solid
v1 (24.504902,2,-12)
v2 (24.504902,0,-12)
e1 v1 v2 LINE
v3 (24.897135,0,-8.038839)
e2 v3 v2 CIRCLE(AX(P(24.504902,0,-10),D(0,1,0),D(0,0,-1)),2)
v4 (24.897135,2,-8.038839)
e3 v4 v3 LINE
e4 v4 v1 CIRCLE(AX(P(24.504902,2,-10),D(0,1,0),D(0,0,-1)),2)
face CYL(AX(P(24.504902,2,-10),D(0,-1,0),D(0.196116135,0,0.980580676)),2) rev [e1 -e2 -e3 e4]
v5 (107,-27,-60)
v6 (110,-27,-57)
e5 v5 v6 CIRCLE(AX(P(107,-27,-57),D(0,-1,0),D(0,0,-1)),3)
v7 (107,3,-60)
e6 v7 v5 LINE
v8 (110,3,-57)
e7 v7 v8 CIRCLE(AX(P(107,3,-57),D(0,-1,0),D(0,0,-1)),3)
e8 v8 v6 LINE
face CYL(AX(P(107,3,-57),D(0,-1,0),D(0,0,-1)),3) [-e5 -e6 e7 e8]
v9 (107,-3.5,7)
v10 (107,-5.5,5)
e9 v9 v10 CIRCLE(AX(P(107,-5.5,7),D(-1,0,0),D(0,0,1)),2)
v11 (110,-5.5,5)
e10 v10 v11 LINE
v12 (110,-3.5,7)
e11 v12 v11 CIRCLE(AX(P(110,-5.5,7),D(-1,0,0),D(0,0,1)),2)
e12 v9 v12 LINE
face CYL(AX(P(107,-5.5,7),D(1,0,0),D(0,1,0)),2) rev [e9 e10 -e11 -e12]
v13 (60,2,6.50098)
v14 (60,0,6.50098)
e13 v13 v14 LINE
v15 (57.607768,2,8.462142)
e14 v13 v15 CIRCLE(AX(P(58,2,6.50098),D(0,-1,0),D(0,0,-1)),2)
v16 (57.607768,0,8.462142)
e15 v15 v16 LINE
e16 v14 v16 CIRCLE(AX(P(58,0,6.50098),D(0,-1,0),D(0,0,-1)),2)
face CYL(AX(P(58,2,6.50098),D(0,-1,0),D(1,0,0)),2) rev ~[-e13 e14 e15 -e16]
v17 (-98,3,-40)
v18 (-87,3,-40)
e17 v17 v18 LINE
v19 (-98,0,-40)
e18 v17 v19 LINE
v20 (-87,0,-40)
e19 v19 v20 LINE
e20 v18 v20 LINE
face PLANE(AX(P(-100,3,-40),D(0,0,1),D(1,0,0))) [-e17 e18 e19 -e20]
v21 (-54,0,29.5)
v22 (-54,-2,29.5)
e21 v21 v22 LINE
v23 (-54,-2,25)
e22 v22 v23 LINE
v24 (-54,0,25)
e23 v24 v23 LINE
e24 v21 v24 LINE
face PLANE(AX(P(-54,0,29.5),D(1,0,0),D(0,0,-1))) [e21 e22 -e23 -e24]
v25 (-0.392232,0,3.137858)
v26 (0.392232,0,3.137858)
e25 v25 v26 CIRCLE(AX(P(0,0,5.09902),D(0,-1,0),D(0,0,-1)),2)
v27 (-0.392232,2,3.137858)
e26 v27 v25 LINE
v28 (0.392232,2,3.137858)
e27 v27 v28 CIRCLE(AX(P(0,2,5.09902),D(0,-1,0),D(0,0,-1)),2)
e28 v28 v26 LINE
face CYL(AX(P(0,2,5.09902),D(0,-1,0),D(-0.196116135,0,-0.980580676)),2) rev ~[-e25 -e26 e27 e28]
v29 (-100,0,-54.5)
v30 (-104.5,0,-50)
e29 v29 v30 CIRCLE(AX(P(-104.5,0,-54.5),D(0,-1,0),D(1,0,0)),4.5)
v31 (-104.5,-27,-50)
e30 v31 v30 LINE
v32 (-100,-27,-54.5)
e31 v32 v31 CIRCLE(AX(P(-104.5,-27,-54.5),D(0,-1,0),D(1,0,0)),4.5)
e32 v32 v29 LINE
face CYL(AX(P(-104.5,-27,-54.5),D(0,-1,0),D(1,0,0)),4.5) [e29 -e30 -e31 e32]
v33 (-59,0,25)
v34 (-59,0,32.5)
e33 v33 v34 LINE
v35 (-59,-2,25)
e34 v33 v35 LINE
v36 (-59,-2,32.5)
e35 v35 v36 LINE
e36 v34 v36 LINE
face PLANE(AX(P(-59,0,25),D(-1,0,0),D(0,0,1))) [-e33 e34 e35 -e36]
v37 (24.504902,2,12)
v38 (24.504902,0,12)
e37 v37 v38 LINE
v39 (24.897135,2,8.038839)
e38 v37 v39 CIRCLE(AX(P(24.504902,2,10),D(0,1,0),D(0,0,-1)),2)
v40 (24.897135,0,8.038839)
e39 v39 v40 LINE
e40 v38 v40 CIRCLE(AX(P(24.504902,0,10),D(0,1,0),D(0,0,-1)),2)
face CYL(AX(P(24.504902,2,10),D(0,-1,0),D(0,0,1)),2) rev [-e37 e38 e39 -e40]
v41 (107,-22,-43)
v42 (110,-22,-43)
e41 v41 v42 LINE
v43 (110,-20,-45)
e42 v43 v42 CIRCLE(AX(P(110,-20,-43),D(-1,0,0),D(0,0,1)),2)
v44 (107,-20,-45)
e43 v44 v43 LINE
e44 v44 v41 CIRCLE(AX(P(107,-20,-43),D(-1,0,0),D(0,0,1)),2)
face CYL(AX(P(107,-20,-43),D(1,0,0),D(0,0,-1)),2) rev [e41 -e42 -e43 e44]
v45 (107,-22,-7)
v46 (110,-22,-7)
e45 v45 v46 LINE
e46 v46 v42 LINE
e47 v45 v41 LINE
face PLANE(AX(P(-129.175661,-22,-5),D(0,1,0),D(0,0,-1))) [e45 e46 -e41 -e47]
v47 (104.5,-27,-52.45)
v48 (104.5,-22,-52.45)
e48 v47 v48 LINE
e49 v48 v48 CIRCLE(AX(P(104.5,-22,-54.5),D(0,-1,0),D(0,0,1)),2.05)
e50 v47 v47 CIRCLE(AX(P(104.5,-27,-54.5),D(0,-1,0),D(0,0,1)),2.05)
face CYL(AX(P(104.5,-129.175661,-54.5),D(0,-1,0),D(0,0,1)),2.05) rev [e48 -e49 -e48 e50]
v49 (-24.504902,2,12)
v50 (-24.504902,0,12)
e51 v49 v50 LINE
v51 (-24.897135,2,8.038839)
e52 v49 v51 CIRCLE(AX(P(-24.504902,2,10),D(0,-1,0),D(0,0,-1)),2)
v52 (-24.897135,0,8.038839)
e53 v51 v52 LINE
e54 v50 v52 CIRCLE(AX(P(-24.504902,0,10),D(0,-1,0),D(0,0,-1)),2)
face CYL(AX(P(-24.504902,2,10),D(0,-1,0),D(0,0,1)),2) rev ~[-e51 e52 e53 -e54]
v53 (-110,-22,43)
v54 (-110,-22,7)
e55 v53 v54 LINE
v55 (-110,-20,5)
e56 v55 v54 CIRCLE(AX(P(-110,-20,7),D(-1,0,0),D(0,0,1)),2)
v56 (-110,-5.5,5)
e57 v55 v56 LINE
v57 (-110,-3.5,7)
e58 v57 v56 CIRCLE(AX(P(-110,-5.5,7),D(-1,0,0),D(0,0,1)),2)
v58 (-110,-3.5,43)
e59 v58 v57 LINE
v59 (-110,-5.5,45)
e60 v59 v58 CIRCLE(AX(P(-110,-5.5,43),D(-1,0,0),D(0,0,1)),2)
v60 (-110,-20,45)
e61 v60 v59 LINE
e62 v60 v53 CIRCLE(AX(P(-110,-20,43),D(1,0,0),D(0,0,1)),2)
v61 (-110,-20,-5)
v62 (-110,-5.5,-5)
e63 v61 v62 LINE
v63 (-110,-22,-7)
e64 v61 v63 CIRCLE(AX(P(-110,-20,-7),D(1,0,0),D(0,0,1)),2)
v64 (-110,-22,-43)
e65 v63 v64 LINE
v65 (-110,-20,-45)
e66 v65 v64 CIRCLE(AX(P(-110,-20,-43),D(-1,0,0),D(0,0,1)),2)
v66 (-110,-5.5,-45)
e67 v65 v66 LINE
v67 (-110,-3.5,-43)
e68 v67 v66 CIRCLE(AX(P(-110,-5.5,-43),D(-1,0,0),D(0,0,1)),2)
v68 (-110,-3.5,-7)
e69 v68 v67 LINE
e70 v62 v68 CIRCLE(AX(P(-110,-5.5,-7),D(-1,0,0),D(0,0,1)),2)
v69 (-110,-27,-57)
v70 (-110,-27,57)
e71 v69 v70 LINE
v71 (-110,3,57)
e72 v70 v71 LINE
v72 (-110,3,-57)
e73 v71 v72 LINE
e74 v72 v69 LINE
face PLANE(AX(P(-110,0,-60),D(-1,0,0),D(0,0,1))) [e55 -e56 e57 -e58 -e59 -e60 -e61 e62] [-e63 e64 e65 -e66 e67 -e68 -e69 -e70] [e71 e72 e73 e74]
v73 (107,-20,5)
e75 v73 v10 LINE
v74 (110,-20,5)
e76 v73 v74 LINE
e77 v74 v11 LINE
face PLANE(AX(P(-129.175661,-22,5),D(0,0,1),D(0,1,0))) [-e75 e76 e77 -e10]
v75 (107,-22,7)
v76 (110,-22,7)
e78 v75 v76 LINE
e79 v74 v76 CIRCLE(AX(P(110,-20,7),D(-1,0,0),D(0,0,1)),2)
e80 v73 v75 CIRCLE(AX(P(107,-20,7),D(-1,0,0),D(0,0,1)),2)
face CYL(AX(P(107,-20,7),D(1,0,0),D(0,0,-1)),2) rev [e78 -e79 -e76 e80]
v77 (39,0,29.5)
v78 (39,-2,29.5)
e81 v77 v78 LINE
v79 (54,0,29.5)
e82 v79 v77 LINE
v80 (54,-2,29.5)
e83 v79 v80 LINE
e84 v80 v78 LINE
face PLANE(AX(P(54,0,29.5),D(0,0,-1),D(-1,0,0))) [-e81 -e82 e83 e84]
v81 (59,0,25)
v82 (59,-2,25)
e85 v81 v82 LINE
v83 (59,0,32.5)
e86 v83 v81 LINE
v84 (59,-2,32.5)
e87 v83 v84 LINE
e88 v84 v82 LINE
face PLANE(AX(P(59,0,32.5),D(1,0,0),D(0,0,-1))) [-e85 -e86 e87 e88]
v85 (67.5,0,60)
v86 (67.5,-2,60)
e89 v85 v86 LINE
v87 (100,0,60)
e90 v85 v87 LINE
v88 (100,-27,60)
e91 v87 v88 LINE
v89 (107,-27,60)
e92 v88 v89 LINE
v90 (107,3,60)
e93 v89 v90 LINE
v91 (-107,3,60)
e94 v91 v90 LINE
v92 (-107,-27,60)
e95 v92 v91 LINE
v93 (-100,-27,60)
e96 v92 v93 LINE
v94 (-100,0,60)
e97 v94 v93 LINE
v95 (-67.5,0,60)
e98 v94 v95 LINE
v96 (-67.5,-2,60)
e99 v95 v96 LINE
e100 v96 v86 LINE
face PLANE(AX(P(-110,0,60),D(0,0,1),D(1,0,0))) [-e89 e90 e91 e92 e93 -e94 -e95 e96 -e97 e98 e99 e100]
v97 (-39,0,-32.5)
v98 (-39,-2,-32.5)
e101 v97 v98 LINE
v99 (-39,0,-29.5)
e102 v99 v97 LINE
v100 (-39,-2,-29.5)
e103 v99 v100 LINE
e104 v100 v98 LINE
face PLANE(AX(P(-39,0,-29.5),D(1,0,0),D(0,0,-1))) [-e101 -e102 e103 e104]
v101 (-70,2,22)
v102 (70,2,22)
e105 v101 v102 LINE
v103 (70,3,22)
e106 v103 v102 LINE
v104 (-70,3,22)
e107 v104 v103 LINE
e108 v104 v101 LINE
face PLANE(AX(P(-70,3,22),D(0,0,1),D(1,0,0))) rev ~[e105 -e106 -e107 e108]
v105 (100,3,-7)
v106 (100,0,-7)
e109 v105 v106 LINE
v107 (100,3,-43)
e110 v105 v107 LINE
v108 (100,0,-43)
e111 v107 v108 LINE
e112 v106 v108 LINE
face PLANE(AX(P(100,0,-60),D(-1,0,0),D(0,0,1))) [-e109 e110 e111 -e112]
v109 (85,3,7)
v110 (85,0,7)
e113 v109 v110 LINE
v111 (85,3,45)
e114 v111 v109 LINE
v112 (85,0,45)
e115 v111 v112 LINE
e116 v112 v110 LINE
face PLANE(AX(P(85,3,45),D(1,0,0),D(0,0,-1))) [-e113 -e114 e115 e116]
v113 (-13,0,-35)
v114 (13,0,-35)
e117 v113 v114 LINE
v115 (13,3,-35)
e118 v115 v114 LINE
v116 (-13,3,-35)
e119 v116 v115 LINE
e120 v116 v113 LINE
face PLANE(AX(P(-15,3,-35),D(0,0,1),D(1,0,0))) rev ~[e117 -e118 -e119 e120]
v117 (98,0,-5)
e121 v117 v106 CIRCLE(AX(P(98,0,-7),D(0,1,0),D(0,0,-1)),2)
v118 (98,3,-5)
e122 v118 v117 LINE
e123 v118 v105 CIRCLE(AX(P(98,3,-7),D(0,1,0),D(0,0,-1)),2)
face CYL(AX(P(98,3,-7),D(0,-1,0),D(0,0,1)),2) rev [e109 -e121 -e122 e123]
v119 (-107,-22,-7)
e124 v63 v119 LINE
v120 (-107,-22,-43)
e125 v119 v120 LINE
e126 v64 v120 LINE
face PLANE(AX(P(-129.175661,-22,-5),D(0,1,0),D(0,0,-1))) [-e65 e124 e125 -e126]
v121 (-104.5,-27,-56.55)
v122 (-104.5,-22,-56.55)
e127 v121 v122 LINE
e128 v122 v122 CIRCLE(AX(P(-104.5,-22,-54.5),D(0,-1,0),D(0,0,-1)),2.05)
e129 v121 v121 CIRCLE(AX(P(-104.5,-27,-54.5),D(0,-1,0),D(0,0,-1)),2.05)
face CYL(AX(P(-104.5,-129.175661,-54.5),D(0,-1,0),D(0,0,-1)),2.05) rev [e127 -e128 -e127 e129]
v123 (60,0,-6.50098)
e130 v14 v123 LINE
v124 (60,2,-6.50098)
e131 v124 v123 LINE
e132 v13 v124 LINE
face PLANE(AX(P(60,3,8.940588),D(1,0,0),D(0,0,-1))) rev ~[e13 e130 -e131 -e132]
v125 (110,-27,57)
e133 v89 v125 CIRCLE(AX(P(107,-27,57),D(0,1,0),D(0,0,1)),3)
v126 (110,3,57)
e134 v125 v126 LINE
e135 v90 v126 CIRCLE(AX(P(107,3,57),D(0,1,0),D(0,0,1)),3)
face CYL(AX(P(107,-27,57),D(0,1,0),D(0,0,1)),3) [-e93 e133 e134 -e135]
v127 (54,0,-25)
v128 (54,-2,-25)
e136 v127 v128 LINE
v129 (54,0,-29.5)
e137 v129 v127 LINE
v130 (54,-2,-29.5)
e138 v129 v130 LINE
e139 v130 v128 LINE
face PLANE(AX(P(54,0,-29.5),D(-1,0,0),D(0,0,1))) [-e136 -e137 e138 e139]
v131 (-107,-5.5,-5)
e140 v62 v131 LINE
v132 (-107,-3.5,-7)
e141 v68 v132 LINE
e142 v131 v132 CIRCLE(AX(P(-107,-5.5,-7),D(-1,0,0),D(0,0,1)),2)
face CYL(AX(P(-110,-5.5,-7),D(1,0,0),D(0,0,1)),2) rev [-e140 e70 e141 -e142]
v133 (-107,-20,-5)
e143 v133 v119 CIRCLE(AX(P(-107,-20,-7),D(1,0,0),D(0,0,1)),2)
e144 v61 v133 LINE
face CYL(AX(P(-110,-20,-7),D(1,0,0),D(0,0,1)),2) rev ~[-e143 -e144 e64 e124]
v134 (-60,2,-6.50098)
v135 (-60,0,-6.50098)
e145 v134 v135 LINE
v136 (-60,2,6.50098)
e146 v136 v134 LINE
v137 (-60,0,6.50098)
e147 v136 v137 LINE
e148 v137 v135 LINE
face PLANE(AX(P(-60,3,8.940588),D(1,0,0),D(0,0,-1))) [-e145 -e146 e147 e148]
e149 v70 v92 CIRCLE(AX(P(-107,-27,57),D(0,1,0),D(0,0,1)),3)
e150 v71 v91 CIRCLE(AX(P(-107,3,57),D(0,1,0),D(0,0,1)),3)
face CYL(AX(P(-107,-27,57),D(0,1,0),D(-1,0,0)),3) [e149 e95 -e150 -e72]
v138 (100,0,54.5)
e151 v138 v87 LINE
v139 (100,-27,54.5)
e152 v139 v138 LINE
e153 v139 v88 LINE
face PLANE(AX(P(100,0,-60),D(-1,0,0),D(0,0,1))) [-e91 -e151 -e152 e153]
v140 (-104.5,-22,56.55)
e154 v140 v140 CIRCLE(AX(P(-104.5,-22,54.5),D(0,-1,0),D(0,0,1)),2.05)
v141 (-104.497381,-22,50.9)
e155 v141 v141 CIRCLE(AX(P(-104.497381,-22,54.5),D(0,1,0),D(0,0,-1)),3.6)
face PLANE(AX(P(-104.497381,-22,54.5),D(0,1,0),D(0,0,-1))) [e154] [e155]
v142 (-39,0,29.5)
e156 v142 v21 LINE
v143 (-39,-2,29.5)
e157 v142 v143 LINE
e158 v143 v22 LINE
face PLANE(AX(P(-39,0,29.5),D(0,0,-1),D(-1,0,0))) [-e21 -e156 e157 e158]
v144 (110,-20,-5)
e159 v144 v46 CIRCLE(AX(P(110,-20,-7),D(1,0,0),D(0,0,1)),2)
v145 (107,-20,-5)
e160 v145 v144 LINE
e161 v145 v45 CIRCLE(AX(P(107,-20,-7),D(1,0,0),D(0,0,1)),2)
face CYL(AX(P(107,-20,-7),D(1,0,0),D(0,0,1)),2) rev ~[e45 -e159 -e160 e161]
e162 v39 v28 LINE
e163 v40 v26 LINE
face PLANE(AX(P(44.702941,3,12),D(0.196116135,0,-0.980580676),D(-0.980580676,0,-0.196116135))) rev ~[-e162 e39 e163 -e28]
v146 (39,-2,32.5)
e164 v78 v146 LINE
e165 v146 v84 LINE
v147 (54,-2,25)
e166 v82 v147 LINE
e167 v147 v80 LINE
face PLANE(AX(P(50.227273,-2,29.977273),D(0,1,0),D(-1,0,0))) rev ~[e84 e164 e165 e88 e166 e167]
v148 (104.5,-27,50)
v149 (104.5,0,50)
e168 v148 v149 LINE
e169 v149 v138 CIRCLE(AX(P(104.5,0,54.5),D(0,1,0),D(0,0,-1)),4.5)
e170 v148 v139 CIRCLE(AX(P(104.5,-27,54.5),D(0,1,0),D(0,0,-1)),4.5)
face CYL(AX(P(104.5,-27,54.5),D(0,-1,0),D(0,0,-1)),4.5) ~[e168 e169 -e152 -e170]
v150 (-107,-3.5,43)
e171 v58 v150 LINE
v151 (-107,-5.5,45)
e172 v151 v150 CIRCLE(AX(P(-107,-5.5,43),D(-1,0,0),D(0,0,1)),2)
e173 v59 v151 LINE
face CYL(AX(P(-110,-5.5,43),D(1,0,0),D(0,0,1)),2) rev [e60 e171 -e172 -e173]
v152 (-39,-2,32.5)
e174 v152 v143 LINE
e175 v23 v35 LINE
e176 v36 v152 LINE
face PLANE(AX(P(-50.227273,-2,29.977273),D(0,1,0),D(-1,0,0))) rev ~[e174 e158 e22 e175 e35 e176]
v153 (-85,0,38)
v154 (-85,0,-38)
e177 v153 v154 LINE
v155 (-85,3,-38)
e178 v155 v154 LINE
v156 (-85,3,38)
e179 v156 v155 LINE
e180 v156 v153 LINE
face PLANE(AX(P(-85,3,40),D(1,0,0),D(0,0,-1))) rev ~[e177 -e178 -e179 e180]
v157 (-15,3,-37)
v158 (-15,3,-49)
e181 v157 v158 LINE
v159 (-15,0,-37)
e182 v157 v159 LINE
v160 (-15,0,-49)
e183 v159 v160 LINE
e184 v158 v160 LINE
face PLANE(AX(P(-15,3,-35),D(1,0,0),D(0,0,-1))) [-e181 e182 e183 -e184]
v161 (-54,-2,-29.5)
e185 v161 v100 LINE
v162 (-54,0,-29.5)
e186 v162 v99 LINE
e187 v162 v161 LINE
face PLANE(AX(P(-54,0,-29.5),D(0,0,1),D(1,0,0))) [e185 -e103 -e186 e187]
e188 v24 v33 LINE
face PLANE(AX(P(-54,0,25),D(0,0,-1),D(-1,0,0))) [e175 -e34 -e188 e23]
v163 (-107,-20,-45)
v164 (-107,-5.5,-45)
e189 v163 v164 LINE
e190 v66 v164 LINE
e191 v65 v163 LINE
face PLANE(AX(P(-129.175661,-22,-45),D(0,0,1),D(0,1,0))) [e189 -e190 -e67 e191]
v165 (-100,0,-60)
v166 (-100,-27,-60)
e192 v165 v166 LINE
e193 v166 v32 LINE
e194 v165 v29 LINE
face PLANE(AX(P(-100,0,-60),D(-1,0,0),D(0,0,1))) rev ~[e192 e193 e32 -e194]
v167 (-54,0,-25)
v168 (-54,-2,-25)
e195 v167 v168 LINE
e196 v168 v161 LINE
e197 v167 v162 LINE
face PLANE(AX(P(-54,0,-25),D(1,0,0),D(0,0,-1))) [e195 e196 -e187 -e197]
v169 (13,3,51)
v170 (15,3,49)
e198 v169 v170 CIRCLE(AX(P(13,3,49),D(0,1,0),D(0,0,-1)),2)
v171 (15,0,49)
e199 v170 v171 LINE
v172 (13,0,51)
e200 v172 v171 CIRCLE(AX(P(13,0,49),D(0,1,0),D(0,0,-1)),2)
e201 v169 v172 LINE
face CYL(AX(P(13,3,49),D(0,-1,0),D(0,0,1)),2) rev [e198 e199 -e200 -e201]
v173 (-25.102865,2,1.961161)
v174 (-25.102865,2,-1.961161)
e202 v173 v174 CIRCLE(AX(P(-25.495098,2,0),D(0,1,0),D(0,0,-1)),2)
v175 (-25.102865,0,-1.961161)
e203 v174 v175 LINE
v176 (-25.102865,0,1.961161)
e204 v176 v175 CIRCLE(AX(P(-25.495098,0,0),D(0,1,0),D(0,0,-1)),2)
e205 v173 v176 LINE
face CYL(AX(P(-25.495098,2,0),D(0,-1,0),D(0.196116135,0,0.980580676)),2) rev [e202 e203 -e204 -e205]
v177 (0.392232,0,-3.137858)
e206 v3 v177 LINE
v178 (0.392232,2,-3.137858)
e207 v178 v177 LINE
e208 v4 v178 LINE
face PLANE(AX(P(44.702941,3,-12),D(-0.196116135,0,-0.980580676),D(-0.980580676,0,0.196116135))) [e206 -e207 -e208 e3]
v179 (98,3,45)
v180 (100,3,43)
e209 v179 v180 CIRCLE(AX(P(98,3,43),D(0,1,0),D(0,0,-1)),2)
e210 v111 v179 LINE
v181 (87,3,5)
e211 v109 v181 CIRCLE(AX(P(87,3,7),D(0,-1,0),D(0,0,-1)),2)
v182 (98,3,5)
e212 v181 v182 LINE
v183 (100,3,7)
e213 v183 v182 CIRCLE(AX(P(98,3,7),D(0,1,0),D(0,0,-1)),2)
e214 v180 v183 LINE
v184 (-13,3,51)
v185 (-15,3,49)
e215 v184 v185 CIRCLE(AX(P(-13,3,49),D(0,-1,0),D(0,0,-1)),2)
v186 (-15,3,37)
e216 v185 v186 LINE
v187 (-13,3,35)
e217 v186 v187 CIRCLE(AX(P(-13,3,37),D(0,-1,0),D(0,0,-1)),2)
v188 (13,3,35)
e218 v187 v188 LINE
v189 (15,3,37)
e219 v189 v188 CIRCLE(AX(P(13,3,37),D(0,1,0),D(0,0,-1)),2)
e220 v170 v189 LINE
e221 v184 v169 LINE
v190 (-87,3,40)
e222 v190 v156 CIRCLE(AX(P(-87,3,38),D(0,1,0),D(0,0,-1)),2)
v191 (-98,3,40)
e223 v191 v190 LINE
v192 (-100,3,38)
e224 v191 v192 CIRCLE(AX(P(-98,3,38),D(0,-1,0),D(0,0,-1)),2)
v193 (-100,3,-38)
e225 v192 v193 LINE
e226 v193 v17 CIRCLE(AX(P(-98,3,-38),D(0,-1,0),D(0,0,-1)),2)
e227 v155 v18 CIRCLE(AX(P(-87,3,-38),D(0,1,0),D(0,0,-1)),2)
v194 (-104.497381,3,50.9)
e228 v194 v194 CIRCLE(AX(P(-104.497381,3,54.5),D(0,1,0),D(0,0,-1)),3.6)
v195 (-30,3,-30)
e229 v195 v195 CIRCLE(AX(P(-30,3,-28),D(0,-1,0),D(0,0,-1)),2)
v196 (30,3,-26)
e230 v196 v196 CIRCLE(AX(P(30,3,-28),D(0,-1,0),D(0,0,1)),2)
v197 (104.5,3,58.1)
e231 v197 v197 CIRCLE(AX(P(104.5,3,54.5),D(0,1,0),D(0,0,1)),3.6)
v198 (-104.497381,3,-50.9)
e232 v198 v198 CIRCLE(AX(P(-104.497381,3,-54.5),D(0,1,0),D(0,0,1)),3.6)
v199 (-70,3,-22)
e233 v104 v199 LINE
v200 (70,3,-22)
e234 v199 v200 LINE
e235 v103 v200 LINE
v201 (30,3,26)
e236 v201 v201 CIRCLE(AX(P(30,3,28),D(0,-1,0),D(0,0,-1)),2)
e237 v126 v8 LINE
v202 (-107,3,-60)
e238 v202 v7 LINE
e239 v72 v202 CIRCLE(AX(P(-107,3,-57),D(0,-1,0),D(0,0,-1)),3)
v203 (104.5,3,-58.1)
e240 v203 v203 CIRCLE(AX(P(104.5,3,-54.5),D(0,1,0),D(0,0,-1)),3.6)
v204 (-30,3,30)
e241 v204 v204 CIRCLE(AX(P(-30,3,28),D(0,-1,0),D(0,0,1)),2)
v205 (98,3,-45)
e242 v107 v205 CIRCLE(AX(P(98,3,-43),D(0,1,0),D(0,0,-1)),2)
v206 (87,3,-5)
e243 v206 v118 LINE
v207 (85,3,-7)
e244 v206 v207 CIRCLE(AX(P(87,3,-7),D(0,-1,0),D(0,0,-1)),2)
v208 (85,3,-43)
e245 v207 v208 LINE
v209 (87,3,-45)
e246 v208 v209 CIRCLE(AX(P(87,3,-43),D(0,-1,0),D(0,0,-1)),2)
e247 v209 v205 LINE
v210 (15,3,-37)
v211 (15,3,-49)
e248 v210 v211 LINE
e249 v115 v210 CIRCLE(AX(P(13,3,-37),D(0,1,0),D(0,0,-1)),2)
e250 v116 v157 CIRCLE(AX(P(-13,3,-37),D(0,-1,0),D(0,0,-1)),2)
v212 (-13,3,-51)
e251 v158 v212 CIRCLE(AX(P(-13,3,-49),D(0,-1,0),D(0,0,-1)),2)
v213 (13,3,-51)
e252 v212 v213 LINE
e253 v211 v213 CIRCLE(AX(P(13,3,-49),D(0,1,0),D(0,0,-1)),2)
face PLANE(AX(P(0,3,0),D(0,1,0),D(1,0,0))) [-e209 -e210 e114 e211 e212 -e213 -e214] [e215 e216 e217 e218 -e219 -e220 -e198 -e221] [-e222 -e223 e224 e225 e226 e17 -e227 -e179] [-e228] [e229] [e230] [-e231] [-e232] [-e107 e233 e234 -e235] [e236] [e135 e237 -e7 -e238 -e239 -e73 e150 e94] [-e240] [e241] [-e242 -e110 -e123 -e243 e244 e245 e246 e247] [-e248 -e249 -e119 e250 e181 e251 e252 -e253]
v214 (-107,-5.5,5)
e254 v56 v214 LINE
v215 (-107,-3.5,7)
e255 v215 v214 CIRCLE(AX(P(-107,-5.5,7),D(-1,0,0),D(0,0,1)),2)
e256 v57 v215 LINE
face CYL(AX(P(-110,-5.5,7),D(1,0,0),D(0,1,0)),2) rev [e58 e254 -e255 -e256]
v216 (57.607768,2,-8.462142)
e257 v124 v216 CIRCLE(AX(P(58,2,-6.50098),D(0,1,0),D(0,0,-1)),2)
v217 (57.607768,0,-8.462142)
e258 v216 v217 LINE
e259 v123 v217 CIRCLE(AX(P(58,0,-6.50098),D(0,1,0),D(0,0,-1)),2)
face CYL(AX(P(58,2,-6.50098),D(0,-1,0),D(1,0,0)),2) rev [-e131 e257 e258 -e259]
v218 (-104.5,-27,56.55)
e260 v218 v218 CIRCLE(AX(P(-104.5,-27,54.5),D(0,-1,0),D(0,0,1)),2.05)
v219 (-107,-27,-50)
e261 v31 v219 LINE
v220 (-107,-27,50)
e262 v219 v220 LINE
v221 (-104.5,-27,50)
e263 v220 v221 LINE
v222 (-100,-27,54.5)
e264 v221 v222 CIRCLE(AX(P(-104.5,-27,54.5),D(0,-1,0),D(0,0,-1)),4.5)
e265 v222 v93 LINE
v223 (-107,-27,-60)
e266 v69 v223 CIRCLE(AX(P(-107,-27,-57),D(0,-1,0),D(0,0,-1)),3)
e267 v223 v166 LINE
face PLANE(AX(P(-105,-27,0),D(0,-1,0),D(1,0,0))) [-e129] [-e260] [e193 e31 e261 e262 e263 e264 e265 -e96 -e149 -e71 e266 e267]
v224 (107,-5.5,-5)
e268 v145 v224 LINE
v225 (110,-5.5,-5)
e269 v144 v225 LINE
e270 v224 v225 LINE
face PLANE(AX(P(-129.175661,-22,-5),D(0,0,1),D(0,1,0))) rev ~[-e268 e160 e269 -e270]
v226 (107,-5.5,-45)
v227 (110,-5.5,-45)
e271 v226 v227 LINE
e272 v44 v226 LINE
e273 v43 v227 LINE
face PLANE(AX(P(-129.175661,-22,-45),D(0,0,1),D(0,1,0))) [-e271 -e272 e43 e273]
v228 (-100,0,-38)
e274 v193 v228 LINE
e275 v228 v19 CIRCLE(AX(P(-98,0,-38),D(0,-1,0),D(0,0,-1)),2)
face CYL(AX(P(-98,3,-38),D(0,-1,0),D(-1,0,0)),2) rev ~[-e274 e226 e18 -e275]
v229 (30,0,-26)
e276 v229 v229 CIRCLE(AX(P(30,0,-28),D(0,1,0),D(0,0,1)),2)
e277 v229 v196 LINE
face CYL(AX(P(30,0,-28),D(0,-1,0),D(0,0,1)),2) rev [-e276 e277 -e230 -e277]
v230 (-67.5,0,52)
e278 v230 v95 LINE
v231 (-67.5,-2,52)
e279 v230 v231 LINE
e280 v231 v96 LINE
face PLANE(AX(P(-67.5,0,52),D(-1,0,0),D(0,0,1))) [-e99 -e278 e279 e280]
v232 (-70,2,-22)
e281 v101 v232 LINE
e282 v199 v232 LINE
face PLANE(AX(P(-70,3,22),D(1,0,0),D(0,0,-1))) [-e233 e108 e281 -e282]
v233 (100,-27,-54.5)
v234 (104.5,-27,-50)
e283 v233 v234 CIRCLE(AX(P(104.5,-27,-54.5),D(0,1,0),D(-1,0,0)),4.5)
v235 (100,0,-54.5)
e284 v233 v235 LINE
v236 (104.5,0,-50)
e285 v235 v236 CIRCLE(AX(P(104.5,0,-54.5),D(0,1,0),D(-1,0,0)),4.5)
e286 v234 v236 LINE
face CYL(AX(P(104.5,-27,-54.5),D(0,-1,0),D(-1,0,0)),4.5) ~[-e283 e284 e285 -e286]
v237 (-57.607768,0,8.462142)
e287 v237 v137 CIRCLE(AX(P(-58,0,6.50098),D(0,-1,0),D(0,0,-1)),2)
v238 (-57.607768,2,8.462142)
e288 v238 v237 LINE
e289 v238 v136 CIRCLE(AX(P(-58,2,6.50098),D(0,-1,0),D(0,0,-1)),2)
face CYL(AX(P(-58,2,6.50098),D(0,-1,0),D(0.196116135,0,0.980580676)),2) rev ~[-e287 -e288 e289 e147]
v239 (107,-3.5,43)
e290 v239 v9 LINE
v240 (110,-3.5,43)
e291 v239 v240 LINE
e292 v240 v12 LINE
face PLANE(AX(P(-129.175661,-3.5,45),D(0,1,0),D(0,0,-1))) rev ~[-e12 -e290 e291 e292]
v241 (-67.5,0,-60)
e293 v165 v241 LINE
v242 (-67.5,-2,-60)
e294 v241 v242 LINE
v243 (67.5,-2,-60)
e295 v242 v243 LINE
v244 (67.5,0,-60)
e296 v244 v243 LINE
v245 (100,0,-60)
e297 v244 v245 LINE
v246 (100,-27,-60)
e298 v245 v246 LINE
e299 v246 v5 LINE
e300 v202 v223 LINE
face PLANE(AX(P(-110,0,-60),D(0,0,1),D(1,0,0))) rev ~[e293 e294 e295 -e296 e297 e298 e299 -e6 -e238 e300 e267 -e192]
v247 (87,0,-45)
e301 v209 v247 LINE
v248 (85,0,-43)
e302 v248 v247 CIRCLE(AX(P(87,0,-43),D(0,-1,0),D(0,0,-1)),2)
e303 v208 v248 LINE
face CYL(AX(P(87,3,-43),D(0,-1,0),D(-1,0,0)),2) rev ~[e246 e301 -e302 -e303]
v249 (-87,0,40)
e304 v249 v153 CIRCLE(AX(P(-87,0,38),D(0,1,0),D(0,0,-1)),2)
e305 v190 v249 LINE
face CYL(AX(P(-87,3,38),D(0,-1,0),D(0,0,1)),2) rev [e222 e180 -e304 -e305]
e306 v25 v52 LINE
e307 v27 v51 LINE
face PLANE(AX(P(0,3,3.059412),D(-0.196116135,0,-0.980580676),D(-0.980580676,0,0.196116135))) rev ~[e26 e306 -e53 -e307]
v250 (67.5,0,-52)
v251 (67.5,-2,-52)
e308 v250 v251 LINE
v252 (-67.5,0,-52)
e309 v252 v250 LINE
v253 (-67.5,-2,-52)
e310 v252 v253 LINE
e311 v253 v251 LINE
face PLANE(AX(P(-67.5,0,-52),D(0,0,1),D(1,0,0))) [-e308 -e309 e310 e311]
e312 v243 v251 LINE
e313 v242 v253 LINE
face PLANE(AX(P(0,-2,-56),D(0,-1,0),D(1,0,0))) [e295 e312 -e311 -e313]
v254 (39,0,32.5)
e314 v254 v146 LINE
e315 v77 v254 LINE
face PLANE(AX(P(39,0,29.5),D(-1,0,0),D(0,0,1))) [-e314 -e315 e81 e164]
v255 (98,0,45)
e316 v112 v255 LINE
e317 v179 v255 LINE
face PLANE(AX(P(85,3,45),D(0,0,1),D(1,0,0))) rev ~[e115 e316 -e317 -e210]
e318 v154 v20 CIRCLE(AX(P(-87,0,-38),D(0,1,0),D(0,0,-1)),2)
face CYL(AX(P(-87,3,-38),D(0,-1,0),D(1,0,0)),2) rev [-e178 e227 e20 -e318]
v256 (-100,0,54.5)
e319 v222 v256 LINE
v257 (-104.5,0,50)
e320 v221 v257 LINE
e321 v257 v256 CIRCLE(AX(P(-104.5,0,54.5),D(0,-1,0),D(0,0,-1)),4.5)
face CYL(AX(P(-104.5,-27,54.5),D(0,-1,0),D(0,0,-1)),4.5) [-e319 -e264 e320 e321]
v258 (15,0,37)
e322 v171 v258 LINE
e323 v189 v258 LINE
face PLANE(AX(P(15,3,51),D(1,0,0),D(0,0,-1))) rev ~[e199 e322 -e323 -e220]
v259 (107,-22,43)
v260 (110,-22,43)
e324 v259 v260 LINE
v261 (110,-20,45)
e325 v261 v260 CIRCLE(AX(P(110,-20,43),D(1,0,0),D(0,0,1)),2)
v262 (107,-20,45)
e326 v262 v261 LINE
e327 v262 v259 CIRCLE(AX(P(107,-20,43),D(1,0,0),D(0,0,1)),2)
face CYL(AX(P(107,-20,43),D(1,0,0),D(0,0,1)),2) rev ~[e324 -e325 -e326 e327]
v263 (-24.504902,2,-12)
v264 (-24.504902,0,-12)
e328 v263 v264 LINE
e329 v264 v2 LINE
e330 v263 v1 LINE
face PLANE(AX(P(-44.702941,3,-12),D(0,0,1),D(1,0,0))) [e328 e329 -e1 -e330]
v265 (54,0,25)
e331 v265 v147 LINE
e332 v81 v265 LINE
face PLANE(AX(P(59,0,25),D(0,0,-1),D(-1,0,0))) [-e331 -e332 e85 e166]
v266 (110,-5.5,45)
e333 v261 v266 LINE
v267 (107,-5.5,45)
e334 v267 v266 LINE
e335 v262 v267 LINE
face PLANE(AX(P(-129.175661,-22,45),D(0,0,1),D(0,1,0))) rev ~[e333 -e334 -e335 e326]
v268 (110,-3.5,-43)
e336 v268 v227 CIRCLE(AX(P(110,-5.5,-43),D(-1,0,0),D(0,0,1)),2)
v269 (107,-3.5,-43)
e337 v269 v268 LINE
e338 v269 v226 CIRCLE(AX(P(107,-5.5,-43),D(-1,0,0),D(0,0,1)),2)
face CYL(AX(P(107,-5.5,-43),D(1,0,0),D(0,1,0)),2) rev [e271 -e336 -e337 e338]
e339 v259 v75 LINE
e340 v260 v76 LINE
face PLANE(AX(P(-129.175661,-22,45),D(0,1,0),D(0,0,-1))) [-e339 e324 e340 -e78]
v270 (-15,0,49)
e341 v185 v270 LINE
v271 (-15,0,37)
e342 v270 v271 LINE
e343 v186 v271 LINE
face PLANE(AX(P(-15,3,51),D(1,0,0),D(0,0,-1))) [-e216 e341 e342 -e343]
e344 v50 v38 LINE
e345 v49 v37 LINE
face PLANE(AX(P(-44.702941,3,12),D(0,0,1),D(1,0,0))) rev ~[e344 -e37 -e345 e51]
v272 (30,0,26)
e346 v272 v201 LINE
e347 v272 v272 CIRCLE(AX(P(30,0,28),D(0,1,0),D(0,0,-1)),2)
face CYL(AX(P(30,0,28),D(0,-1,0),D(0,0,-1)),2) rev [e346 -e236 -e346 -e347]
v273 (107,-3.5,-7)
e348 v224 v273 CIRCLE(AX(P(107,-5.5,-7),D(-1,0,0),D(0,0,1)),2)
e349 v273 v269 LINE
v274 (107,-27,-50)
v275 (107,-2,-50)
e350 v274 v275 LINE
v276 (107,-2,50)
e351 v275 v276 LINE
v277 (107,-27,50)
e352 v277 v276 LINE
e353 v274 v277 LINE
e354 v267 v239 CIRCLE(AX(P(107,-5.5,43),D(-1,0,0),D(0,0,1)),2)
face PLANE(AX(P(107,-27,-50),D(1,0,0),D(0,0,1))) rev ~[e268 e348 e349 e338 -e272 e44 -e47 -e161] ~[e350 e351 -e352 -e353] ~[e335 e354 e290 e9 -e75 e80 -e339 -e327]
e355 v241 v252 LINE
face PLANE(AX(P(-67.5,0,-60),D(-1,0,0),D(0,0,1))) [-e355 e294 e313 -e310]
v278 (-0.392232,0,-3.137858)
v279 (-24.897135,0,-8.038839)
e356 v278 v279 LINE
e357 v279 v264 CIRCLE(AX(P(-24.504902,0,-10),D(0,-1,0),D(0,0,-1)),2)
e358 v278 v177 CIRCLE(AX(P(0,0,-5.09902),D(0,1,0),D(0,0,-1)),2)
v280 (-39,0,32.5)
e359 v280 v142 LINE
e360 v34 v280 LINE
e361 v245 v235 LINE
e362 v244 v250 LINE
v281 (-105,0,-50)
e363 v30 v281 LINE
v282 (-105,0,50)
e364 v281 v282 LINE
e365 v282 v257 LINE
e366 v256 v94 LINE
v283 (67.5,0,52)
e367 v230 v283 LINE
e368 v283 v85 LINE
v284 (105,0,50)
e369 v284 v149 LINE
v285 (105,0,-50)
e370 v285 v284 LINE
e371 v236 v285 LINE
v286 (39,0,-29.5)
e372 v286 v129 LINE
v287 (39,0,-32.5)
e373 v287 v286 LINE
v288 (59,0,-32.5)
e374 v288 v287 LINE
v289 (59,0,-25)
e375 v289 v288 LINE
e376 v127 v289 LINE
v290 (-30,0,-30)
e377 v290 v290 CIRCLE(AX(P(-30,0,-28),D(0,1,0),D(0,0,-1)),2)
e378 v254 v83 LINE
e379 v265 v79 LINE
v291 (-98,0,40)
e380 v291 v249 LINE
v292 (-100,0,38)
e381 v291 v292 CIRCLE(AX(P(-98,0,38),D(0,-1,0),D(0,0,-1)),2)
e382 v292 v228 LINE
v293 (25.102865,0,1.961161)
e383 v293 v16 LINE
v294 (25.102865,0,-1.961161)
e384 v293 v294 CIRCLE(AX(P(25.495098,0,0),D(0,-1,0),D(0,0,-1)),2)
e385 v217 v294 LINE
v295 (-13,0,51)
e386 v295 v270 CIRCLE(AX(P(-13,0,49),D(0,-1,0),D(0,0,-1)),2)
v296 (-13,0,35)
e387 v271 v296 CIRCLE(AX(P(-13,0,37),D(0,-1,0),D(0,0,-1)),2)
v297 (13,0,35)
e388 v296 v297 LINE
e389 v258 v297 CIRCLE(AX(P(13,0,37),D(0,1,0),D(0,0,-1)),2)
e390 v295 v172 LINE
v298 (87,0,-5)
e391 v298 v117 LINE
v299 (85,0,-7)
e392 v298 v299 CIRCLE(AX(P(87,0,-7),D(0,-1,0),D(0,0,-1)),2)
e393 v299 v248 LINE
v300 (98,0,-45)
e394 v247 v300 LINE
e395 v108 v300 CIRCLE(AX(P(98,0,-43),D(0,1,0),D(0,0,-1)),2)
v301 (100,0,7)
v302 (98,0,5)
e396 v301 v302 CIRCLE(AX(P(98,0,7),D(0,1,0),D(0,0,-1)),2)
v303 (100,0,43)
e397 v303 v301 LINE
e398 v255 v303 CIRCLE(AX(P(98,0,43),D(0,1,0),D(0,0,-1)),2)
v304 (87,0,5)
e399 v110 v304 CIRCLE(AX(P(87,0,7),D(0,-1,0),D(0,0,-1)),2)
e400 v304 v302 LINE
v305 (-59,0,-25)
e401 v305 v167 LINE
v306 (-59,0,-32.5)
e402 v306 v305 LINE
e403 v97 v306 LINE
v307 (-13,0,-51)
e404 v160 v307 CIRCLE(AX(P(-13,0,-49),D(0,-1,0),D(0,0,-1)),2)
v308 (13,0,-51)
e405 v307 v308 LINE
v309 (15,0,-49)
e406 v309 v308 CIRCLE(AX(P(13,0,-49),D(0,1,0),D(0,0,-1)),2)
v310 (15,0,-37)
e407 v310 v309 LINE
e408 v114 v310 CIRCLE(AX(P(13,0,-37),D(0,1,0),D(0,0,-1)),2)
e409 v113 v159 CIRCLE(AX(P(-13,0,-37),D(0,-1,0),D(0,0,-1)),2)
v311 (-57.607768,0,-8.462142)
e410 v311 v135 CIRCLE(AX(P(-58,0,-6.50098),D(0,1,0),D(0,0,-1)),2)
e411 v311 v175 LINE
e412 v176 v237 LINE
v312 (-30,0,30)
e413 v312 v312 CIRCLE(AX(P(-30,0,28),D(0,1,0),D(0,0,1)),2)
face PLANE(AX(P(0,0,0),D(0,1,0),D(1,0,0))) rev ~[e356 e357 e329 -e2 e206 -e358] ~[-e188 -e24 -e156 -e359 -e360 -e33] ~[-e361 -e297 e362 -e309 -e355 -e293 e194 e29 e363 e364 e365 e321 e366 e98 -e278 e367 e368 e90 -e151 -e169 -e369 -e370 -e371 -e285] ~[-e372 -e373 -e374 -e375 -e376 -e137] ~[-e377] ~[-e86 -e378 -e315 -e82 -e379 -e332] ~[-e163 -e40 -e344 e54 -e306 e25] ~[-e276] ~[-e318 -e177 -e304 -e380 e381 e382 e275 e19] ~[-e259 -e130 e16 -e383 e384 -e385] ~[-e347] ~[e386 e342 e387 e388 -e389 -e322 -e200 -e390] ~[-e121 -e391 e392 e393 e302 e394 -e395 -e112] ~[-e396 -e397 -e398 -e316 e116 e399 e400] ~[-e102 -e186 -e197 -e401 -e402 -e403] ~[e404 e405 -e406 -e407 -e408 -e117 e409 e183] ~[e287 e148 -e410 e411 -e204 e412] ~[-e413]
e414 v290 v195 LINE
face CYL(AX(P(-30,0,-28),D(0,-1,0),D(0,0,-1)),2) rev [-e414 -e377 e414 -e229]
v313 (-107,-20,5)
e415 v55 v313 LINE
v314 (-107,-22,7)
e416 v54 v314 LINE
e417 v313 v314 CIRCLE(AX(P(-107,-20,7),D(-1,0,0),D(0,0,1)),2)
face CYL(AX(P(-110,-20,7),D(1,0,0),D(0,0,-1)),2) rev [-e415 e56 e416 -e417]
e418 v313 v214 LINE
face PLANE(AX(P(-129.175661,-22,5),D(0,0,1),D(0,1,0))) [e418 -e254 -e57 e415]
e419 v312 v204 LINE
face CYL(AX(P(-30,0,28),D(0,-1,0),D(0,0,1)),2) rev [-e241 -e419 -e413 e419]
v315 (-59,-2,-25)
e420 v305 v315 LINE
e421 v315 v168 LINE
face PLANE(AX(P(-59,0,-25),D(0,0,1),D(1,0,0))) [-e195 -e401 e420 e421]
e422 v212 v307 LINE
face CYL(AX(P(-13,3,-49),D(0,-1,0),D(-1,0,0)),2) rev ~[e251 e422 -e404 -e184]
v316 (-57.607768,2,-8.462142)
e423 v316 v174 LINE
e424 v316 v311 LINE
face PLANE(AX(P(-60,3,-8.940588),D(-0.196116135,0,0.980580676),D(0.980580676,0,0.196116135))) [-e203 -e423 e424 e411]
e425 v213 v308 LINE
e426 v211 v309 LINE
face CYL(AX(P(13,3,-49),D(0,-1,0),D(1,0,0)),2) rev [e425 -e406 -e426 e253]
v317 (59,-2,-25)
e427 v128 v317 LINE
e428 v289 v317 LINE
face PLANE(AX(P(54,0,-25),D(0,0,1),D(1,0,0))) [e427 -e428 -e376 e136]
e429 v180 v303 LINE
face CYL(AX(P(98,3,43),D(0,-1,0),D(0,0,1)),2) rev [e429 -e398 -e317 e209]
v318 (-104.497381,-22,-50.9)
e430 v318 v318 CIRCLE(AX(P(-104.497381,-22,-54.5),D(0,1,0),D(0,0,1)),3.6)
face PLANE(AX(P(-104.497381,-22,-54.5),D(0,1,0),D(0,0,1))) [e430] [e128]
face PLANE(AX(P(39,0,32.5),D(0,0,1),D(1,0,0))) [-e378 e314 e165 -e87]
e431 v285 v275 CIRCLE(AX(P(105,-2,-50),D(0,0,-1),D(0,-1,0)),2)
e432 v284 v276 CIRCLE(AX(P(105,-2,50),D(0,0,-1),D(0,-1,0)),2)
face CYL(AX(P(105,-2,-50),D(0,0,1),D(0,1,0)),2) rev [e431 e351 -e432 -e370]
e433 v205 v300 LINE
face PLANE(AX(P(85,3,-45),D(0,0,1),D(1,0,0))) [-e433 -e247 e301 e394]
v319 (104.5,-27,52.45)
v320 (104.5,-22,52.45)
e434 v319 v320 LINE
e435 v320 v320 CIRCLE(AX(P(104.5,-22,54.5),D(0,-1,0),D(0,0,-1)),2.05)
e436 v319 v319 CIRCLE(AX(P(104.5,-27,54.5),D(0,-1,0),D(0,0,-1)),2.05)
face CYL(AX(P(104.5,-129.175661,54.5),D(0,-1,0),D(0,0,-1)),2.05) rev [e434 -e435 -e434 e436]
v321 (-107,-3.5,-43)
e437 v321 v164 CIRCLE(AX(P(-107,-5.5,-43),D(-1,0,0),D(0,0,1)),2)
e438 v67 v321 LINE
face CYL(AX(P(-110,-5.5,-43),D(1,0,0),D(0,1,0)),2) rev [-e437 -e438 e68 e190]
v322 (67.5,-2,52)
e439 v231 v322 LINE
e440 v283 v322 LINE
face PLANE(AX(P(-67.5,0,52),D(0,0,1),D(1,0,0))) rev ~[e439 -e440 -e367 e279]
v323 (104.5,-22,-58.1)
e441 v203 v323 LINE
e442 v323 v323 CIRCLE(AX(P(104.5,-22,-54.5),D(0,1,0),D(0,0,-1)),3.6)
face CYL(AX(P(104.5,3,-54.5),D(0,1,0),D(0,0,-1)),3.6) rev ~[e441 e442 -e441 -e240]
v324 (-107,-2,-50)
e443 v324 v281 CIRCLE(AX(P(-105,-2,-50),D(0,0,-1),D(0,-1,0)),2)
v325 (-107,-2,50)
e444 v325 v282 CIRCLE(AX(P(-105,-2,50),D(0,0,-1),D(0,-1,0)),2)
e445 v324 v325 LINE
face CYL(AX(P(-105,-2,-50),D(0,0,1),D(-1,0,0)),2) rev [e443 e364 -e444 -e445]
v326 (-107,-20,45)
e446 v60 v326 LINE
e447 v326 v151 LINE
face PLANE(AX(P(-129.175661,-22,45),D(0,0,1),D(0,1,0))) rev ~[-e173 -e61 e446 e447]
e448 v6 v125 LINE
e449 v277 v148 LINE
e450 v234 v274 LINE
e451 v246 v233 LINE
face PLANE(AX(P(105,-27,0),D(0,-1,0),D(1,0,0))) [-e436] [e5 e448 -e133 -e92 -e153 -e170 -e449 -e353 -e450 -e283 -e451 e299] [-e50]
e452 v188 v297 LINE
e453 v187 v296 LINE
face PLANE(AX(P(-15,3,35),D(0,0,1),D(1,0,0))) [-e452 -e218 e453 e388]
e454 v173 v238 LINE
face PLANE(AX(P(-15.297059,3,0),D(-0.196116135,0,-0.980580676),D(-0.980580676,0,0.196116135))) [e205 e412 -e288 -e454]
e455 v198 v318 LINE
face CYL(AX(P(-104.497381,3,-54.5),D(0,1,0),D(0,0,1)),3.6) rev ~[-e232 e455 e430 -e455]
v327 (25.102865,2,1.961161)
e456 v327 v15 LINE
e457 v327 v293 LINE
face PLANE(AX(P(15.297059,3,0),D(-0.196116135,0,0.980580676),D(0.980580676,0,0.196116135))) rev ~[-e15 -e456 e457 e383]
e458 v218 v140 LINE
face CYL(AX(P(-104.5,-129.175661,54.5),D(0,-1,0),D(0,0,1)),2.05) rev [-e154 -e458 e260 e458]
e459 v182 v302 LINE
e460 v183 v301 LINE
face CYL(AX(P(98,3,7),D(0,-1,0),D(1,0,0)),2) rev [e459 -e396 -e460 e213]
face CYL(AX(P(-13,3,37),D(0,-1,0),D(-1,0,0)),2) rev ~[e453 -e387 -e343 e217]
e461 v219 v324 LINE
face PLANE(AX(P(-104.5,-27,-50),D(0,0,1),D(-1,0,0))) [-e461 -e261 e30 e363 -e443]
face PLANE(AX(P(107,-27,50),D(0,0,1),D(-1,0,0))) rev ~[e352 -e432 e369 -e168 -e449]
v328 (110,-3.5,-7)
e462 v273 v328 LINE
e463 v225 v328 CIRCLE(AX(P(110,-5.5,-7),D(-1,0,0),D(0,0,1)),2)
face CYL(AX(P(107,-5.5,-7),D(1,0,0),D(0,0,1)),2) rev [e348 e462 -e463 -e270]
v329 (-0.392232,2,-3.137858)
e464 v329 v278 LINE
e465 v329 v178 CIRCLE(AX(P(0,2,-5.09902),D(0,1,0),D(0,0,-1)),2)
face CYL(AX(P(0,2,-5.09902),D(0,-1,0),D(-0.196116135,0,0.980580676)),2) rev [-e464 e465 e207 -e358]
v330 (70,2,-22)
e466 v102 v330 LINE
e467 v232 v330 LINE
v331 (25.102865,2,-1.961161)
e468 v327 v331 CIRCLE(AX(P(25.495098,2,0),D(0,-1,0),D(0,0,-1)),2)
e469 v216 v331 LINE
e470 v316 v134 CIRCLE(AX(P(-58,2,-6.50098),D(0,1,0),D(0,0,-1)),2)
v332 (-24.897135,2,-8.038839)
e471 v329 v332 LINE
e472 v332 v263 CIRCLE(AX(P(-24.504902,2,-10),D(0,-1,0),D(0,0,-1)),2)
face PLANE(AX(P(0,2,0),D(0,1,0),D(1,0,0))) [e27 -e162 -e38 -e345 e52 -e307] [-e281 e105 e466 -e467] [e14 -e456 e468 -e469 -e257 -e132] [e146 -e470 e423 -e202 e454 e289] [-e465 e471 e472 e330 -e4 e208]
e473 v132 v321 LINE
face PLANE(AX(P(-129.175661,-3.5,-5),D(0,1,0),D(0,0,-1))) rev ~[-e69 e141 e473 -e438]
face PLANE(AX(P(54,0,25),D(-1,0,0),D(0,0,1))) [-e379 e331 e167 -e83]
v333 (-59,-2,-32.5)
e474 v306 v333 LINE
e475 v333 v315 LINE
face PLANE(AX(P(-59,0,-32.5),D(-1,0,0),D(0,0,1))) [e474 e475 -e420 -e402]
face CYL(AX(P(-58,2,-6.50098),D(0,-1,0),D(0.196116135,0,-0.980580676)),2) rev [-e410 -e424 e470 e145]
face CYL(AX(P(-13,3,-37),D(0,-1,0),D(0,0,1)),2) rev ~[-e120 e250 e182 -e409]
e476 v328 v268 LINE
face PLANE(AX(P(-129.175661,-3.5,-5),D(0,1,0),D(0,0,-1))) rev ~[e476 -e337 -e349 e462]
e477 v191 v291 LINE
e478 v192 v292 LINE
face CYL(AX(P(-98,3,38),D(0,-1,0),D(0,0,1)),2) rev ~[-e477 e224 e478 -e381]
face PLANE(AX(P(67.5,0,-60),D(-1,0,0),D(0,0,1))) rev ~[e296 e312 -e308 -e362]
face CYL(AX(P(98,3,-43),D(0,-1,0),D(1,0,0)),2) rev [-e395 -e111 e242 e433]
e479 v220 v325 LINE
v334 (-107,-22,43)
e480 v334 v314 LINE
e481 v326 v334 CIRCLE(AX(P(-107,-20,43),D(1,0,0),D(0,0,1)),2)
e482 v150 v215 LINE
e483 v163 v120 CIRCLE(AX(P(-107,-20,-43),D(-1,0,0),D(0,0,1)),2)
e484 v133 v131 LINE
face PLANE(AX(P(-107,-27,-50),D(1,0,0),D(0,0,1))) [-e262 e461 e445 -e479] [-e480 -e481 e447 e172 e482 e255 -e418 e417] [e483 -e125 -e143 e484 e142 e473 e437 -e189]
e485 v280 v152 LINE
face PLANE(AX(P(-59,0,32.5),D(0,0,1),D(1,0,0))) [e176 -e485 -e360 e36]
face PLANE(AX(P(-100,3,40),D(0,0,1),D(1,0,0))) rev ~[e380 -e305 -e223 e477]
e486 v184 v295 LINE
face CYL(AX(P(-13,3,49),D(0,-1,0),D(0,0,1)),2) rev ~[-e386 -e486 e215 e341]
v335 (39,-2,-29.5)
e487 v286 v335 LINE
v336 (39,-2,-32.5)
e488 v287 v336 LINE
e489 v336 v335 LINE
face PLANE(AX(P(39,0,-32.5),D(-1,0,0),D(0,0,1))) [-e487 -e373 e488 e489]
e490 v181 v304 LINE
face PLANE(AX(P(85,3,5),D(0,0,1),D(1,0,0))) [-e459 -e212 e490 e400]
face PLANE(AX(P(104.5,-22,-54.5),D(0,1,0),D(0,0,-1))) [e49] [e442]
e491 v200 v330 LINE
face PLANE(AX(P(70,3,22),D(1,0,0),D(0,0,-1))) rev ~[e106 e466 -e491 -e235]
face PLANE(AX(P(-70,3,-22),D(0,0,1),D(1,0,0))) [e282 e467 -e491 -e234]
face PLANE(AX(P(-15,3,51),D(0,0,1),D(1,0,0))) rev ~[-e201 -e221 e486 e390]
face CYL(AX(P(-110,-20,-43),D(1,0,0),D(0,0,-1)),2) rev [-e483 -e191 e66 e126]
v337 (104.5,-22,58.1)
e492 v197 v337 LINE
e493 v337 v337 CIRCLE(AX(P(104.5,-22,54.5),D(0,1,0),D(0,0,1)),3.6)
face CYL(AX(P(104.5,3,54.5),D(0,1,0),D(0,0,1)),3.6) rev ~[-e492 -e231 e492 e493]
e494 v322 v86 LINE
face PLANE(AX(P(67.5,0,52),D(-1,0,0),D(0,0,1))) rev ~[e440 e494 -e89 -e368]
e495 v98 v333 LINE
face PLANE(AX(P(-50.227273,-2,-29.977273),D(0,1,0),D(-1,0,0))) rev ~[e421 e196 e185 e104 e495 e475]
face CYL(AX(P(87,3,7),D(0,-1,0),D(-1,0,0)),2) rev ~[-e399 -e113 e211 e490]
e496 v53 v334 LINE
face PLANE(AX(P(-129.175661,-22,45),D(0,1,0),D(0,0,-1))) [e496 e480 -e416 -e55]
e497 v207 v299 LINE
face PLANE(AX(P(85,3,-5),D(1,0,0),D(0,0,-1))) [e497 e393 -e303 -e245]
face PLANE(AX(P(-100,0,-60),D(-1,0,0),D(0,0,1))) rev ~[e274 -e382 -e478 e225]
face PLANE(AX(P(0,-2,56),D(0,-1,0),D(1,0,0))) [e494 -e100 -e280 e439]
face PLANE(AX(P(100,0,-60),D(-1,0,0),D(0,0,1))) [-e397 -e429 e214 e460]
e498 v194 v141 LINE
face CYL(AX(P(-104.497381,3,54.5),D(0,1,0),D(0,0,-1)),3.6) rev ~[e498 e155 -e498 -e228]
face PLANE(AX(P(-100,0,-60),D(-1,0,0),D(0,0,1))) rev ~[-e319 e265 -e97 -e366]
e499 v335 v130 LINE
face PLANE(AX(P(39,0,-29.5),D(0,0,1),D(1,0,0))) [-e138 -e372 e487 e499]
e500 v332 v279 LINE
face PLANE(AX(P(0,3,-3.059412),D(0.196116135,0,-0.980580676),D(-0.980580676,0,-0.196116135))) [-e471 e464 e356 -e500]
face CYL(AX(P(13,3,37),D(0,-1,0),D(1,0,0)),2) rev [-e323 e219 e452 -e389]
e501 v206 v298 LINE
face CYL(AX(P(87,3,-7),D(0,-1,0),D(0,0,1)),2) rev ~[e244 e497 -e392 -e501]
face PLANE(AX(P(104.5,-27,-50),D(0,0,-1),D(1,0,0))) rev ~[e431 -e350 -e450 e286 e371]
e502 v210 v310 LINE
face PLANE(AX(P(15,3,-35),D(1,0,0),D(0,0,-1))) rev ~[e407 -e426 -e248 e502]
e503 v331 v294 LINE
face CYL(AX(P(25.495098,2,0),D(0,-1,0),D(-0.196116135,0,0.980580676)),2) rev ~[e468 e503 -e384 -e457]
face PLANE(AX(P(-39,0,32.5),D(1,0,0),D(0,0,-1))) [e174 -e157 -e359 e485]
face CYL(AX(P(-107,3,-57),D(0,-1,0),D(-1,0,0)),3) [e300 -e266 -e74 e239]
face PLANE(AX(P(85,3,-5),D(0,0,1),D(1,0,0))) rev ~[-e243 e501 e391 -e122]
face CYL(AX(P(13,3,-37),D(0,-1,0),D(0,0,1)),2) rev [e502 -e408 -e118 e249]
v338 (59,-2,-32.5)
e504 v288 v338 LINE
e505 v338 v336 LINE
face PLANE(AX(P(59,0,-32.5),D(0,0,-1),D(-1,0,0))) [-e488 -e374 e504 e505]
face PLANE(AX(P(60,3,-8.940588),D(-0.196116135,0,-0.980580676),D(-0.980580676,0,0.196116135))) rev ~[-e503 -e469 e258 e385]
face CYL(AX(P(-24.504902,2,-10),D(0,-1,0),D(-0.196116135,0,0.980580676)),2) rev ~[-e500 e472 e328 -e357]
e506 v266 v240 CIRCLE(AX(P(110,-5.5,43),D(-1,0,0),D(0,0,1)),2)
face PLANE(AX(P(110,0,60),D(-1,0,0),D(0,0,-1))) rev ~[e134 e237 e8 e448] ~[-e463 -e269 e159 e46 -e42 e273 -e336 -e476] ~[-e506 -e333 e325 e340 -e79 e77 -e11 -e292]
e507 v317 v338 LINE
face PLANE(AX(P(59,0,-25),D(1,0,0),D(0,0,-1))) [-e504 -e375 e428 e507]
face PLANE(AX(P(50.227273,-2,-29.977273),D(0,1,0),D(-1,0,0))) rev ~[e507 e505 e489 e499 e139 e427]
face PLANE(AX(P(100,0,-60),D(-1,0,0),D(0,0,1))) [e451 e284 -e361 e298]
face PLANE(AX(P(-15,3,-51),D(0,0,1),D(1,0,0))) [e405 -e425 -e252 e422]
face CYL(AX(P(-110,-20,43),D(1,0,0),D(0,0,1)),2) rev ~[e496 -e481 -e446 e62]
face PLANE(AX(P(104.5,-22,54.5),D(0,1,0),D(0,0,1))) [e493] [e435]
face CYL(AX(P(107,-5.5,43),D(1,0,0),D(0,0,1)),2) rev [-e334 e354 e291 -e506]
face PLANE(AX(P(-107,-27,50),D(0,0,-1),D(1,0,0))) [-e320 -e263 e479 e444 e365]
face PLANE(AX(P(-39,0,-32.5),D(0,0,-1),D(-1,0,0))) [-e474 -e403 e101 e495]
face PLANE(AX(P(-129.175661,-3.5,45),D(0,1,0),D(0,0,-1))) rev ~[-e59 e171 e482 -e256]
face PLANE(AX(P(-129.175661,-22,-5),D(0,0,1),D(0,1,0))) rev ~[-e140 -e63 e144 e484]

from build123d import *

# Parameters (mm, degrees)
SKETCH_8_W               = 220
SKETCH_8_H               = 120
EXTRUDE_6_DEPTH          = 3
SKETCH_10_W              = 10
SKETCH_10_H              = 120
EXTRUDE_7_DEPTH          = 27
CUT_EXTRUDE_1_DEPTH      = 129.175660716
CUT_EXTRUDE_1_DEPTH_BACK = 129.175660716
SKETCH_9_R               = 2.05
SKETCH_11_R              = 3.6
CUT_EXTRUDE_2_DEPTH      = 25
CUT_EXTRUDE_4_DEPTH      = 129.175660716
CUT_EXTRUDE_4_DEPTH_BACK = 129.175660716
SKETCH_13_W              = 40
SKETCH_13_H              = 18.5
SKETCH_14_W              = 140
SKETCH_14_H              = 44
CUT_EXTRUDE_7_DEPTH      = 1
SKETCH_15_W              = 15
SKETCH_15_H              = 80
SKETCH_15_H_2            = 40
SKETCH_15_W_2            = 30
SKETCH_15_H_3            = 16
CUT_EXTRUDE_8_DEPTH      = 129.840987267
SKETCH_9_5_R             = 2
CUT_EXTRUDE_9_DEPTH      = 129.175660716
CUT_EXTRUDE_13_DEPTH     = 27
SKETCH_20_W              = 135
SKETCH_20_H              = 8
EXTRUDE_8_DEPTH          = 2
FILLET_1_R               = 3
FILLET_2_R               = 2


with BuildPart() as part:
    # 草圖8 → 填料-伸長6 (new body)
    with BuildSketch(Plane(origin=(0, 0, 0), x_dir=(1, 0, 0), z_dir=(0, 1, 0))):
        Rectangle(SKETCH_8_W, SKETCH_8_H)
    extrude(amount=EXTRUDE_6_DEPTH)

    # 草圖10 → 填料-伸長7 (add)
    with BuildSketch(Plane.XZ):
        with Locations((-105, 0)):
            Rectangle(SKETCH_10_W, SKETCH_10_H)
        with Locations((105, 0)):
            Rectangle(SKETCH_10_W, SKETCH_10_H)
    extrude(amount=EXTRUDE_7_DEPTH)

    # 草圖9 → 除料-伸長1 (cut, two sides: drawn at the far end of the back side and taken through both)
    with BuildSketch(Plane(origin=(0, 0, 0), x_dir=(1, 0, 0), z_dir=(0, 1, 0)).offset(-CUT_EXTRUDE_1_DEPTH_BACK)):
        with Locations((104.5, 54.5)):
            Circle(SKETCH_9_R)
        with Locations((-104.5, 54.5)):
            Circle(SKETCH_9_R)
        with Locations((-104.5, -54.5)):
            Circle(SKETCH_9_R)
        with Locations((104.5, -54.5)):
            Circle(SKETCH_9_R)
    extrude(amount=CUT_EXTRUDE_1_DEPTH + CUT_EXTRUDE_1_DEPTH_BACK, mode=Mode.SUBTRACT)

    # 草圖11 → 除料-伸長2 (cut)
    with BuildSketch(Plane(origin=(0, 3, 0), x_dir=(1, 0, 0), z_dir=(0, 1, 0))):
        with Locations((-104.497380754, 54.5)):
            Circle(SKETCH_11_R)
        with Locations((-104.497380754, -54.5)):
            Circle(SKETCH_11_R)
        with Locations((104.5, -54.5)):
            Circle(SKETCH_11_R)
        with Locations((104.5, 54.5)):
            Circle(SKETCH_11_R)
    extrude(amount=-CUT_EXTRUDE_2_DEPTH, mode=Mode.SUBTRACT)

    # 草圖13 → 除料-伸長4 (cut, two sides: drawn at the far end of the back side and taken through both)
    with BuildSketch(Plane(origin=(0, 0, 0), x_dir=(0, 0, -1), z_dir=(1, 0, 0)).offset(-CUT_EXTRUDE_4_DEPTH_BACK)):
        with Locations((-25, -12.75)):
            Rectangle(SKETCH_13_W, SKETCH_13_H)
        with Locations((25, -12.75)):
            Rectangle(SKETCH_13_W, SKETCH_13_H)
    extrude(amount=CUT_EXTRUDE_4_DEPTH + CUT_EXTRUDE_4_DEPTH_BACK, mode=Mode.SUBTRACT)

    # 草圖14 → 除料-伸長7 (cut)
    with BuildSketch(Plane(origin=(0, 3, 0), x_dir=(1, 0, 0), z_dir=(0, 1, 0))):
        Rectangle(SKETCH_14_W, SKETCH_14_H)
    extrude(amount=-CUT_EXTRUDE_7_DEPTH, mode=Mode.SUBTRACT)

    # 草圖15 → 除料-伸長8 (cut, through all)
    with BuildSketch(Plane(origin=(0, 3, 0), x_dir=(1, 0, 0), z_dir=(0, 1, 0))):
        with Locations((-92.5, 0)):
            Rectangle(SKETCH_15_W, SKETCH_15_H)
        with Locations((92.5, 25)):
            Rectangle(SKETCH_15_W, SKETCH_15_H_2)
        Polygon((-44.702941459, -12), (44.702941459, -12), (0, -3.059411708), align=None)
        Polygon((-60, -8.940588292), (-60, 8.940588292), (-15.297058541, 0), align=None)
        Polygon((-44.702941459, 12), (44.702941459, 12), (0, 3.059411708), align=None)
        Polygon((60, -8.940588292), (60, 8.940588292), (15.297058541, 0), align=None)
        with Locations((0, -43)):
            Rectangle(SKETCH_15_W_2, SKETCH_15_H_3)
        with Locations((0, 43)):
            Rectangle(SKETCH_15_W_2, SKETCH_15_H_3)
        with Locations((92.5, -25)):
            Rectangle(SKETCH_15_W, SKETCH_15_H_2)
    extrude(amount=-CUT_EXTRUDE_8_DEPTH, mode=Mode.SUBTRACT)

    # 草圖9<5> → 除料-伸長9 (cut, through all)
    with BuildSketch(Plane(origin=(0, 0, 0), x_dir=(1, 0, 0), z_dir=(0, 1, 0))):
        with Locations((30, 28)):
            Circle(SKETCH_9_5_R)
        with Locations((-30, 28)):
            Circle(SKETCH_9_5_R)
        with Locations((30, -28)):
            Circle(SKETCH_9_5_R)
        with Locations((-30, -28)):
            Circle(SKETCH_9_5_R)
    extrude(amount=CUT_EXTRUDE_9_DEPTH, mode=Mode.SUBTRACT)

    # 草圖19 → 除料-伸長13 (cut)
    with BuildSketch(Plane.XZ.offset(27)):
        with BuildLine():
            Line((-100, 54.5), (-100, -54.5))
            ThreePointArc((-100, -54.5), (-101.318019485, -51.318019485), (-104.5, -50))
            Line((-104.5, -50), (-107, -50))
            Line((-107, -50), (-107, 50))
            Line((-107, 50), (-104.5, 50))
            ThreePointArc((-104.5, 50), (-101.318019485, 51.318019485), (-100, 54.5))
        make_face()
        with BuildLine():
            Line((100, 54.5), (100, -54.5))
            ThreePointArc((100, -54.5), (101.318019485, -51.318019485), (104.5, -50))
            Line((104.5, -50), (107, -50))
            Line((107, -50), (107, 50))
            Line((107, 50), (104.5, 50))
            ThreePointArc((104.5, 50), (101.318019485, 51.318019485), (100, 54.5))
        make_face()
    extrude(amount=-CUT_EXTRUDE_13_DEPTH, mode=Mode.SUBTRACT)

    # 草圖20 → 填料-伸長8 (add)
    with BuildSketch(Plane.XZ):
        with Locations((0, 56)):
            Rectangle(SKETCH_20_W, SKETCH_20_H)
        with Locations((0, -56)):
            Rectangle(SKETCH_20_W, SKETCH_20_H)
        Polygon((-59, 32.5), (-39, 32.5), (-39, 29.5), (-54, 29.5), (-54, 25), (-59, 25), align=None)
        Polygon((54, 29.5), (39, 29.5), (39, 32.5), (59, 32.5), (59, 25), (54, 25), align=None)
        Polygon((59, -32.5), (39, -32.5), (39, -29.5), (54, -29.5), (54, -25), (59, -25), align=None)
        Polygon((-54, -29.5), (-39, -29.5), (-39, -32.5), (-59, -32.5), (-59, -25), (-54, -25), align=None)
    extrude(amount=EXTRUDE_8_DEPTH)

    # 圓角1
    fillet_1_edges = [part.edges().sort_by_distance(p)[0] for p in [
        (-110, -12, 60),
        (-110, -12, -60),
        (110, -12, -60),
        (110, -12, 60),
    ]]
    fillet(fillet_1_edges, radius=FILLET_1_R)

    # 圓角2
    fillet_2_edges = [part.edges().sort_by_distance(p)[0] for p in [
        (-107, 0, 0),
        (107, 0, 0),
        (108.5, -3.5, -5),
        (108.5, -3.5, 45),
        (108.5, -22, 45),
        (108.5, -22, -5),
        (108.5, -3.5, -45),
        (108.5, -3.5, 5),
        (108.5, -22, 5),
        (108.5, -22, -45),
        (-108.5, -22, -45),
        (-108.5, -22, 5),
        (-108.5, -3.5, -45),
        (-108.5, -3.5, 5),
        (-108.5, -22, 45),
        (-108.5, -3.5, 45),
        (-108.5, -3.5, -5),
        (-108.5, -22, -5),
        (60, 1, -8.940588292),
        (44.702941459, 1, -12),
        (-44.702941459, 1, -12),
        (0, 1, 3.059411708),
        (-44.702941459, 1, 12),
        (44.702941459, 1, 12),
        (-15.297058541, 1, 0),
        (0, 1, -3.059411708),
        (60, 1, 8.940588292),
        (100, 1.5, -5),
        (15, 1.5, -35),
        (100, 1.5, 45),
        (15, 1.5, 51),
        (-85, 1.5, 40),
        (-15, 1.5, 51),
        (85, 1.5, -5),
        (15.297058541, 1, 0),
        (-100, 1.5, 40),
        (-15, 1.5, -35),
        (-60, 1, 8.940588292),
        (-60, 1, -8.940588292),
        (15, 1.5, 35),
        (-15, 1.5, 35),
        (85, 1.5, 5),
        (85, 1.5, -45),
        (100, 1.5, 5),
        (100, 1.5, -45),
        (15, 1.5, -51),
        (-15, 1.5, -51),
        (-85, 1.5, -40),
        (-100, 1.5, -40),
    ]]
    fillet(fillet_2_edges, radius=FILLET_2_R)


solid = part.part
